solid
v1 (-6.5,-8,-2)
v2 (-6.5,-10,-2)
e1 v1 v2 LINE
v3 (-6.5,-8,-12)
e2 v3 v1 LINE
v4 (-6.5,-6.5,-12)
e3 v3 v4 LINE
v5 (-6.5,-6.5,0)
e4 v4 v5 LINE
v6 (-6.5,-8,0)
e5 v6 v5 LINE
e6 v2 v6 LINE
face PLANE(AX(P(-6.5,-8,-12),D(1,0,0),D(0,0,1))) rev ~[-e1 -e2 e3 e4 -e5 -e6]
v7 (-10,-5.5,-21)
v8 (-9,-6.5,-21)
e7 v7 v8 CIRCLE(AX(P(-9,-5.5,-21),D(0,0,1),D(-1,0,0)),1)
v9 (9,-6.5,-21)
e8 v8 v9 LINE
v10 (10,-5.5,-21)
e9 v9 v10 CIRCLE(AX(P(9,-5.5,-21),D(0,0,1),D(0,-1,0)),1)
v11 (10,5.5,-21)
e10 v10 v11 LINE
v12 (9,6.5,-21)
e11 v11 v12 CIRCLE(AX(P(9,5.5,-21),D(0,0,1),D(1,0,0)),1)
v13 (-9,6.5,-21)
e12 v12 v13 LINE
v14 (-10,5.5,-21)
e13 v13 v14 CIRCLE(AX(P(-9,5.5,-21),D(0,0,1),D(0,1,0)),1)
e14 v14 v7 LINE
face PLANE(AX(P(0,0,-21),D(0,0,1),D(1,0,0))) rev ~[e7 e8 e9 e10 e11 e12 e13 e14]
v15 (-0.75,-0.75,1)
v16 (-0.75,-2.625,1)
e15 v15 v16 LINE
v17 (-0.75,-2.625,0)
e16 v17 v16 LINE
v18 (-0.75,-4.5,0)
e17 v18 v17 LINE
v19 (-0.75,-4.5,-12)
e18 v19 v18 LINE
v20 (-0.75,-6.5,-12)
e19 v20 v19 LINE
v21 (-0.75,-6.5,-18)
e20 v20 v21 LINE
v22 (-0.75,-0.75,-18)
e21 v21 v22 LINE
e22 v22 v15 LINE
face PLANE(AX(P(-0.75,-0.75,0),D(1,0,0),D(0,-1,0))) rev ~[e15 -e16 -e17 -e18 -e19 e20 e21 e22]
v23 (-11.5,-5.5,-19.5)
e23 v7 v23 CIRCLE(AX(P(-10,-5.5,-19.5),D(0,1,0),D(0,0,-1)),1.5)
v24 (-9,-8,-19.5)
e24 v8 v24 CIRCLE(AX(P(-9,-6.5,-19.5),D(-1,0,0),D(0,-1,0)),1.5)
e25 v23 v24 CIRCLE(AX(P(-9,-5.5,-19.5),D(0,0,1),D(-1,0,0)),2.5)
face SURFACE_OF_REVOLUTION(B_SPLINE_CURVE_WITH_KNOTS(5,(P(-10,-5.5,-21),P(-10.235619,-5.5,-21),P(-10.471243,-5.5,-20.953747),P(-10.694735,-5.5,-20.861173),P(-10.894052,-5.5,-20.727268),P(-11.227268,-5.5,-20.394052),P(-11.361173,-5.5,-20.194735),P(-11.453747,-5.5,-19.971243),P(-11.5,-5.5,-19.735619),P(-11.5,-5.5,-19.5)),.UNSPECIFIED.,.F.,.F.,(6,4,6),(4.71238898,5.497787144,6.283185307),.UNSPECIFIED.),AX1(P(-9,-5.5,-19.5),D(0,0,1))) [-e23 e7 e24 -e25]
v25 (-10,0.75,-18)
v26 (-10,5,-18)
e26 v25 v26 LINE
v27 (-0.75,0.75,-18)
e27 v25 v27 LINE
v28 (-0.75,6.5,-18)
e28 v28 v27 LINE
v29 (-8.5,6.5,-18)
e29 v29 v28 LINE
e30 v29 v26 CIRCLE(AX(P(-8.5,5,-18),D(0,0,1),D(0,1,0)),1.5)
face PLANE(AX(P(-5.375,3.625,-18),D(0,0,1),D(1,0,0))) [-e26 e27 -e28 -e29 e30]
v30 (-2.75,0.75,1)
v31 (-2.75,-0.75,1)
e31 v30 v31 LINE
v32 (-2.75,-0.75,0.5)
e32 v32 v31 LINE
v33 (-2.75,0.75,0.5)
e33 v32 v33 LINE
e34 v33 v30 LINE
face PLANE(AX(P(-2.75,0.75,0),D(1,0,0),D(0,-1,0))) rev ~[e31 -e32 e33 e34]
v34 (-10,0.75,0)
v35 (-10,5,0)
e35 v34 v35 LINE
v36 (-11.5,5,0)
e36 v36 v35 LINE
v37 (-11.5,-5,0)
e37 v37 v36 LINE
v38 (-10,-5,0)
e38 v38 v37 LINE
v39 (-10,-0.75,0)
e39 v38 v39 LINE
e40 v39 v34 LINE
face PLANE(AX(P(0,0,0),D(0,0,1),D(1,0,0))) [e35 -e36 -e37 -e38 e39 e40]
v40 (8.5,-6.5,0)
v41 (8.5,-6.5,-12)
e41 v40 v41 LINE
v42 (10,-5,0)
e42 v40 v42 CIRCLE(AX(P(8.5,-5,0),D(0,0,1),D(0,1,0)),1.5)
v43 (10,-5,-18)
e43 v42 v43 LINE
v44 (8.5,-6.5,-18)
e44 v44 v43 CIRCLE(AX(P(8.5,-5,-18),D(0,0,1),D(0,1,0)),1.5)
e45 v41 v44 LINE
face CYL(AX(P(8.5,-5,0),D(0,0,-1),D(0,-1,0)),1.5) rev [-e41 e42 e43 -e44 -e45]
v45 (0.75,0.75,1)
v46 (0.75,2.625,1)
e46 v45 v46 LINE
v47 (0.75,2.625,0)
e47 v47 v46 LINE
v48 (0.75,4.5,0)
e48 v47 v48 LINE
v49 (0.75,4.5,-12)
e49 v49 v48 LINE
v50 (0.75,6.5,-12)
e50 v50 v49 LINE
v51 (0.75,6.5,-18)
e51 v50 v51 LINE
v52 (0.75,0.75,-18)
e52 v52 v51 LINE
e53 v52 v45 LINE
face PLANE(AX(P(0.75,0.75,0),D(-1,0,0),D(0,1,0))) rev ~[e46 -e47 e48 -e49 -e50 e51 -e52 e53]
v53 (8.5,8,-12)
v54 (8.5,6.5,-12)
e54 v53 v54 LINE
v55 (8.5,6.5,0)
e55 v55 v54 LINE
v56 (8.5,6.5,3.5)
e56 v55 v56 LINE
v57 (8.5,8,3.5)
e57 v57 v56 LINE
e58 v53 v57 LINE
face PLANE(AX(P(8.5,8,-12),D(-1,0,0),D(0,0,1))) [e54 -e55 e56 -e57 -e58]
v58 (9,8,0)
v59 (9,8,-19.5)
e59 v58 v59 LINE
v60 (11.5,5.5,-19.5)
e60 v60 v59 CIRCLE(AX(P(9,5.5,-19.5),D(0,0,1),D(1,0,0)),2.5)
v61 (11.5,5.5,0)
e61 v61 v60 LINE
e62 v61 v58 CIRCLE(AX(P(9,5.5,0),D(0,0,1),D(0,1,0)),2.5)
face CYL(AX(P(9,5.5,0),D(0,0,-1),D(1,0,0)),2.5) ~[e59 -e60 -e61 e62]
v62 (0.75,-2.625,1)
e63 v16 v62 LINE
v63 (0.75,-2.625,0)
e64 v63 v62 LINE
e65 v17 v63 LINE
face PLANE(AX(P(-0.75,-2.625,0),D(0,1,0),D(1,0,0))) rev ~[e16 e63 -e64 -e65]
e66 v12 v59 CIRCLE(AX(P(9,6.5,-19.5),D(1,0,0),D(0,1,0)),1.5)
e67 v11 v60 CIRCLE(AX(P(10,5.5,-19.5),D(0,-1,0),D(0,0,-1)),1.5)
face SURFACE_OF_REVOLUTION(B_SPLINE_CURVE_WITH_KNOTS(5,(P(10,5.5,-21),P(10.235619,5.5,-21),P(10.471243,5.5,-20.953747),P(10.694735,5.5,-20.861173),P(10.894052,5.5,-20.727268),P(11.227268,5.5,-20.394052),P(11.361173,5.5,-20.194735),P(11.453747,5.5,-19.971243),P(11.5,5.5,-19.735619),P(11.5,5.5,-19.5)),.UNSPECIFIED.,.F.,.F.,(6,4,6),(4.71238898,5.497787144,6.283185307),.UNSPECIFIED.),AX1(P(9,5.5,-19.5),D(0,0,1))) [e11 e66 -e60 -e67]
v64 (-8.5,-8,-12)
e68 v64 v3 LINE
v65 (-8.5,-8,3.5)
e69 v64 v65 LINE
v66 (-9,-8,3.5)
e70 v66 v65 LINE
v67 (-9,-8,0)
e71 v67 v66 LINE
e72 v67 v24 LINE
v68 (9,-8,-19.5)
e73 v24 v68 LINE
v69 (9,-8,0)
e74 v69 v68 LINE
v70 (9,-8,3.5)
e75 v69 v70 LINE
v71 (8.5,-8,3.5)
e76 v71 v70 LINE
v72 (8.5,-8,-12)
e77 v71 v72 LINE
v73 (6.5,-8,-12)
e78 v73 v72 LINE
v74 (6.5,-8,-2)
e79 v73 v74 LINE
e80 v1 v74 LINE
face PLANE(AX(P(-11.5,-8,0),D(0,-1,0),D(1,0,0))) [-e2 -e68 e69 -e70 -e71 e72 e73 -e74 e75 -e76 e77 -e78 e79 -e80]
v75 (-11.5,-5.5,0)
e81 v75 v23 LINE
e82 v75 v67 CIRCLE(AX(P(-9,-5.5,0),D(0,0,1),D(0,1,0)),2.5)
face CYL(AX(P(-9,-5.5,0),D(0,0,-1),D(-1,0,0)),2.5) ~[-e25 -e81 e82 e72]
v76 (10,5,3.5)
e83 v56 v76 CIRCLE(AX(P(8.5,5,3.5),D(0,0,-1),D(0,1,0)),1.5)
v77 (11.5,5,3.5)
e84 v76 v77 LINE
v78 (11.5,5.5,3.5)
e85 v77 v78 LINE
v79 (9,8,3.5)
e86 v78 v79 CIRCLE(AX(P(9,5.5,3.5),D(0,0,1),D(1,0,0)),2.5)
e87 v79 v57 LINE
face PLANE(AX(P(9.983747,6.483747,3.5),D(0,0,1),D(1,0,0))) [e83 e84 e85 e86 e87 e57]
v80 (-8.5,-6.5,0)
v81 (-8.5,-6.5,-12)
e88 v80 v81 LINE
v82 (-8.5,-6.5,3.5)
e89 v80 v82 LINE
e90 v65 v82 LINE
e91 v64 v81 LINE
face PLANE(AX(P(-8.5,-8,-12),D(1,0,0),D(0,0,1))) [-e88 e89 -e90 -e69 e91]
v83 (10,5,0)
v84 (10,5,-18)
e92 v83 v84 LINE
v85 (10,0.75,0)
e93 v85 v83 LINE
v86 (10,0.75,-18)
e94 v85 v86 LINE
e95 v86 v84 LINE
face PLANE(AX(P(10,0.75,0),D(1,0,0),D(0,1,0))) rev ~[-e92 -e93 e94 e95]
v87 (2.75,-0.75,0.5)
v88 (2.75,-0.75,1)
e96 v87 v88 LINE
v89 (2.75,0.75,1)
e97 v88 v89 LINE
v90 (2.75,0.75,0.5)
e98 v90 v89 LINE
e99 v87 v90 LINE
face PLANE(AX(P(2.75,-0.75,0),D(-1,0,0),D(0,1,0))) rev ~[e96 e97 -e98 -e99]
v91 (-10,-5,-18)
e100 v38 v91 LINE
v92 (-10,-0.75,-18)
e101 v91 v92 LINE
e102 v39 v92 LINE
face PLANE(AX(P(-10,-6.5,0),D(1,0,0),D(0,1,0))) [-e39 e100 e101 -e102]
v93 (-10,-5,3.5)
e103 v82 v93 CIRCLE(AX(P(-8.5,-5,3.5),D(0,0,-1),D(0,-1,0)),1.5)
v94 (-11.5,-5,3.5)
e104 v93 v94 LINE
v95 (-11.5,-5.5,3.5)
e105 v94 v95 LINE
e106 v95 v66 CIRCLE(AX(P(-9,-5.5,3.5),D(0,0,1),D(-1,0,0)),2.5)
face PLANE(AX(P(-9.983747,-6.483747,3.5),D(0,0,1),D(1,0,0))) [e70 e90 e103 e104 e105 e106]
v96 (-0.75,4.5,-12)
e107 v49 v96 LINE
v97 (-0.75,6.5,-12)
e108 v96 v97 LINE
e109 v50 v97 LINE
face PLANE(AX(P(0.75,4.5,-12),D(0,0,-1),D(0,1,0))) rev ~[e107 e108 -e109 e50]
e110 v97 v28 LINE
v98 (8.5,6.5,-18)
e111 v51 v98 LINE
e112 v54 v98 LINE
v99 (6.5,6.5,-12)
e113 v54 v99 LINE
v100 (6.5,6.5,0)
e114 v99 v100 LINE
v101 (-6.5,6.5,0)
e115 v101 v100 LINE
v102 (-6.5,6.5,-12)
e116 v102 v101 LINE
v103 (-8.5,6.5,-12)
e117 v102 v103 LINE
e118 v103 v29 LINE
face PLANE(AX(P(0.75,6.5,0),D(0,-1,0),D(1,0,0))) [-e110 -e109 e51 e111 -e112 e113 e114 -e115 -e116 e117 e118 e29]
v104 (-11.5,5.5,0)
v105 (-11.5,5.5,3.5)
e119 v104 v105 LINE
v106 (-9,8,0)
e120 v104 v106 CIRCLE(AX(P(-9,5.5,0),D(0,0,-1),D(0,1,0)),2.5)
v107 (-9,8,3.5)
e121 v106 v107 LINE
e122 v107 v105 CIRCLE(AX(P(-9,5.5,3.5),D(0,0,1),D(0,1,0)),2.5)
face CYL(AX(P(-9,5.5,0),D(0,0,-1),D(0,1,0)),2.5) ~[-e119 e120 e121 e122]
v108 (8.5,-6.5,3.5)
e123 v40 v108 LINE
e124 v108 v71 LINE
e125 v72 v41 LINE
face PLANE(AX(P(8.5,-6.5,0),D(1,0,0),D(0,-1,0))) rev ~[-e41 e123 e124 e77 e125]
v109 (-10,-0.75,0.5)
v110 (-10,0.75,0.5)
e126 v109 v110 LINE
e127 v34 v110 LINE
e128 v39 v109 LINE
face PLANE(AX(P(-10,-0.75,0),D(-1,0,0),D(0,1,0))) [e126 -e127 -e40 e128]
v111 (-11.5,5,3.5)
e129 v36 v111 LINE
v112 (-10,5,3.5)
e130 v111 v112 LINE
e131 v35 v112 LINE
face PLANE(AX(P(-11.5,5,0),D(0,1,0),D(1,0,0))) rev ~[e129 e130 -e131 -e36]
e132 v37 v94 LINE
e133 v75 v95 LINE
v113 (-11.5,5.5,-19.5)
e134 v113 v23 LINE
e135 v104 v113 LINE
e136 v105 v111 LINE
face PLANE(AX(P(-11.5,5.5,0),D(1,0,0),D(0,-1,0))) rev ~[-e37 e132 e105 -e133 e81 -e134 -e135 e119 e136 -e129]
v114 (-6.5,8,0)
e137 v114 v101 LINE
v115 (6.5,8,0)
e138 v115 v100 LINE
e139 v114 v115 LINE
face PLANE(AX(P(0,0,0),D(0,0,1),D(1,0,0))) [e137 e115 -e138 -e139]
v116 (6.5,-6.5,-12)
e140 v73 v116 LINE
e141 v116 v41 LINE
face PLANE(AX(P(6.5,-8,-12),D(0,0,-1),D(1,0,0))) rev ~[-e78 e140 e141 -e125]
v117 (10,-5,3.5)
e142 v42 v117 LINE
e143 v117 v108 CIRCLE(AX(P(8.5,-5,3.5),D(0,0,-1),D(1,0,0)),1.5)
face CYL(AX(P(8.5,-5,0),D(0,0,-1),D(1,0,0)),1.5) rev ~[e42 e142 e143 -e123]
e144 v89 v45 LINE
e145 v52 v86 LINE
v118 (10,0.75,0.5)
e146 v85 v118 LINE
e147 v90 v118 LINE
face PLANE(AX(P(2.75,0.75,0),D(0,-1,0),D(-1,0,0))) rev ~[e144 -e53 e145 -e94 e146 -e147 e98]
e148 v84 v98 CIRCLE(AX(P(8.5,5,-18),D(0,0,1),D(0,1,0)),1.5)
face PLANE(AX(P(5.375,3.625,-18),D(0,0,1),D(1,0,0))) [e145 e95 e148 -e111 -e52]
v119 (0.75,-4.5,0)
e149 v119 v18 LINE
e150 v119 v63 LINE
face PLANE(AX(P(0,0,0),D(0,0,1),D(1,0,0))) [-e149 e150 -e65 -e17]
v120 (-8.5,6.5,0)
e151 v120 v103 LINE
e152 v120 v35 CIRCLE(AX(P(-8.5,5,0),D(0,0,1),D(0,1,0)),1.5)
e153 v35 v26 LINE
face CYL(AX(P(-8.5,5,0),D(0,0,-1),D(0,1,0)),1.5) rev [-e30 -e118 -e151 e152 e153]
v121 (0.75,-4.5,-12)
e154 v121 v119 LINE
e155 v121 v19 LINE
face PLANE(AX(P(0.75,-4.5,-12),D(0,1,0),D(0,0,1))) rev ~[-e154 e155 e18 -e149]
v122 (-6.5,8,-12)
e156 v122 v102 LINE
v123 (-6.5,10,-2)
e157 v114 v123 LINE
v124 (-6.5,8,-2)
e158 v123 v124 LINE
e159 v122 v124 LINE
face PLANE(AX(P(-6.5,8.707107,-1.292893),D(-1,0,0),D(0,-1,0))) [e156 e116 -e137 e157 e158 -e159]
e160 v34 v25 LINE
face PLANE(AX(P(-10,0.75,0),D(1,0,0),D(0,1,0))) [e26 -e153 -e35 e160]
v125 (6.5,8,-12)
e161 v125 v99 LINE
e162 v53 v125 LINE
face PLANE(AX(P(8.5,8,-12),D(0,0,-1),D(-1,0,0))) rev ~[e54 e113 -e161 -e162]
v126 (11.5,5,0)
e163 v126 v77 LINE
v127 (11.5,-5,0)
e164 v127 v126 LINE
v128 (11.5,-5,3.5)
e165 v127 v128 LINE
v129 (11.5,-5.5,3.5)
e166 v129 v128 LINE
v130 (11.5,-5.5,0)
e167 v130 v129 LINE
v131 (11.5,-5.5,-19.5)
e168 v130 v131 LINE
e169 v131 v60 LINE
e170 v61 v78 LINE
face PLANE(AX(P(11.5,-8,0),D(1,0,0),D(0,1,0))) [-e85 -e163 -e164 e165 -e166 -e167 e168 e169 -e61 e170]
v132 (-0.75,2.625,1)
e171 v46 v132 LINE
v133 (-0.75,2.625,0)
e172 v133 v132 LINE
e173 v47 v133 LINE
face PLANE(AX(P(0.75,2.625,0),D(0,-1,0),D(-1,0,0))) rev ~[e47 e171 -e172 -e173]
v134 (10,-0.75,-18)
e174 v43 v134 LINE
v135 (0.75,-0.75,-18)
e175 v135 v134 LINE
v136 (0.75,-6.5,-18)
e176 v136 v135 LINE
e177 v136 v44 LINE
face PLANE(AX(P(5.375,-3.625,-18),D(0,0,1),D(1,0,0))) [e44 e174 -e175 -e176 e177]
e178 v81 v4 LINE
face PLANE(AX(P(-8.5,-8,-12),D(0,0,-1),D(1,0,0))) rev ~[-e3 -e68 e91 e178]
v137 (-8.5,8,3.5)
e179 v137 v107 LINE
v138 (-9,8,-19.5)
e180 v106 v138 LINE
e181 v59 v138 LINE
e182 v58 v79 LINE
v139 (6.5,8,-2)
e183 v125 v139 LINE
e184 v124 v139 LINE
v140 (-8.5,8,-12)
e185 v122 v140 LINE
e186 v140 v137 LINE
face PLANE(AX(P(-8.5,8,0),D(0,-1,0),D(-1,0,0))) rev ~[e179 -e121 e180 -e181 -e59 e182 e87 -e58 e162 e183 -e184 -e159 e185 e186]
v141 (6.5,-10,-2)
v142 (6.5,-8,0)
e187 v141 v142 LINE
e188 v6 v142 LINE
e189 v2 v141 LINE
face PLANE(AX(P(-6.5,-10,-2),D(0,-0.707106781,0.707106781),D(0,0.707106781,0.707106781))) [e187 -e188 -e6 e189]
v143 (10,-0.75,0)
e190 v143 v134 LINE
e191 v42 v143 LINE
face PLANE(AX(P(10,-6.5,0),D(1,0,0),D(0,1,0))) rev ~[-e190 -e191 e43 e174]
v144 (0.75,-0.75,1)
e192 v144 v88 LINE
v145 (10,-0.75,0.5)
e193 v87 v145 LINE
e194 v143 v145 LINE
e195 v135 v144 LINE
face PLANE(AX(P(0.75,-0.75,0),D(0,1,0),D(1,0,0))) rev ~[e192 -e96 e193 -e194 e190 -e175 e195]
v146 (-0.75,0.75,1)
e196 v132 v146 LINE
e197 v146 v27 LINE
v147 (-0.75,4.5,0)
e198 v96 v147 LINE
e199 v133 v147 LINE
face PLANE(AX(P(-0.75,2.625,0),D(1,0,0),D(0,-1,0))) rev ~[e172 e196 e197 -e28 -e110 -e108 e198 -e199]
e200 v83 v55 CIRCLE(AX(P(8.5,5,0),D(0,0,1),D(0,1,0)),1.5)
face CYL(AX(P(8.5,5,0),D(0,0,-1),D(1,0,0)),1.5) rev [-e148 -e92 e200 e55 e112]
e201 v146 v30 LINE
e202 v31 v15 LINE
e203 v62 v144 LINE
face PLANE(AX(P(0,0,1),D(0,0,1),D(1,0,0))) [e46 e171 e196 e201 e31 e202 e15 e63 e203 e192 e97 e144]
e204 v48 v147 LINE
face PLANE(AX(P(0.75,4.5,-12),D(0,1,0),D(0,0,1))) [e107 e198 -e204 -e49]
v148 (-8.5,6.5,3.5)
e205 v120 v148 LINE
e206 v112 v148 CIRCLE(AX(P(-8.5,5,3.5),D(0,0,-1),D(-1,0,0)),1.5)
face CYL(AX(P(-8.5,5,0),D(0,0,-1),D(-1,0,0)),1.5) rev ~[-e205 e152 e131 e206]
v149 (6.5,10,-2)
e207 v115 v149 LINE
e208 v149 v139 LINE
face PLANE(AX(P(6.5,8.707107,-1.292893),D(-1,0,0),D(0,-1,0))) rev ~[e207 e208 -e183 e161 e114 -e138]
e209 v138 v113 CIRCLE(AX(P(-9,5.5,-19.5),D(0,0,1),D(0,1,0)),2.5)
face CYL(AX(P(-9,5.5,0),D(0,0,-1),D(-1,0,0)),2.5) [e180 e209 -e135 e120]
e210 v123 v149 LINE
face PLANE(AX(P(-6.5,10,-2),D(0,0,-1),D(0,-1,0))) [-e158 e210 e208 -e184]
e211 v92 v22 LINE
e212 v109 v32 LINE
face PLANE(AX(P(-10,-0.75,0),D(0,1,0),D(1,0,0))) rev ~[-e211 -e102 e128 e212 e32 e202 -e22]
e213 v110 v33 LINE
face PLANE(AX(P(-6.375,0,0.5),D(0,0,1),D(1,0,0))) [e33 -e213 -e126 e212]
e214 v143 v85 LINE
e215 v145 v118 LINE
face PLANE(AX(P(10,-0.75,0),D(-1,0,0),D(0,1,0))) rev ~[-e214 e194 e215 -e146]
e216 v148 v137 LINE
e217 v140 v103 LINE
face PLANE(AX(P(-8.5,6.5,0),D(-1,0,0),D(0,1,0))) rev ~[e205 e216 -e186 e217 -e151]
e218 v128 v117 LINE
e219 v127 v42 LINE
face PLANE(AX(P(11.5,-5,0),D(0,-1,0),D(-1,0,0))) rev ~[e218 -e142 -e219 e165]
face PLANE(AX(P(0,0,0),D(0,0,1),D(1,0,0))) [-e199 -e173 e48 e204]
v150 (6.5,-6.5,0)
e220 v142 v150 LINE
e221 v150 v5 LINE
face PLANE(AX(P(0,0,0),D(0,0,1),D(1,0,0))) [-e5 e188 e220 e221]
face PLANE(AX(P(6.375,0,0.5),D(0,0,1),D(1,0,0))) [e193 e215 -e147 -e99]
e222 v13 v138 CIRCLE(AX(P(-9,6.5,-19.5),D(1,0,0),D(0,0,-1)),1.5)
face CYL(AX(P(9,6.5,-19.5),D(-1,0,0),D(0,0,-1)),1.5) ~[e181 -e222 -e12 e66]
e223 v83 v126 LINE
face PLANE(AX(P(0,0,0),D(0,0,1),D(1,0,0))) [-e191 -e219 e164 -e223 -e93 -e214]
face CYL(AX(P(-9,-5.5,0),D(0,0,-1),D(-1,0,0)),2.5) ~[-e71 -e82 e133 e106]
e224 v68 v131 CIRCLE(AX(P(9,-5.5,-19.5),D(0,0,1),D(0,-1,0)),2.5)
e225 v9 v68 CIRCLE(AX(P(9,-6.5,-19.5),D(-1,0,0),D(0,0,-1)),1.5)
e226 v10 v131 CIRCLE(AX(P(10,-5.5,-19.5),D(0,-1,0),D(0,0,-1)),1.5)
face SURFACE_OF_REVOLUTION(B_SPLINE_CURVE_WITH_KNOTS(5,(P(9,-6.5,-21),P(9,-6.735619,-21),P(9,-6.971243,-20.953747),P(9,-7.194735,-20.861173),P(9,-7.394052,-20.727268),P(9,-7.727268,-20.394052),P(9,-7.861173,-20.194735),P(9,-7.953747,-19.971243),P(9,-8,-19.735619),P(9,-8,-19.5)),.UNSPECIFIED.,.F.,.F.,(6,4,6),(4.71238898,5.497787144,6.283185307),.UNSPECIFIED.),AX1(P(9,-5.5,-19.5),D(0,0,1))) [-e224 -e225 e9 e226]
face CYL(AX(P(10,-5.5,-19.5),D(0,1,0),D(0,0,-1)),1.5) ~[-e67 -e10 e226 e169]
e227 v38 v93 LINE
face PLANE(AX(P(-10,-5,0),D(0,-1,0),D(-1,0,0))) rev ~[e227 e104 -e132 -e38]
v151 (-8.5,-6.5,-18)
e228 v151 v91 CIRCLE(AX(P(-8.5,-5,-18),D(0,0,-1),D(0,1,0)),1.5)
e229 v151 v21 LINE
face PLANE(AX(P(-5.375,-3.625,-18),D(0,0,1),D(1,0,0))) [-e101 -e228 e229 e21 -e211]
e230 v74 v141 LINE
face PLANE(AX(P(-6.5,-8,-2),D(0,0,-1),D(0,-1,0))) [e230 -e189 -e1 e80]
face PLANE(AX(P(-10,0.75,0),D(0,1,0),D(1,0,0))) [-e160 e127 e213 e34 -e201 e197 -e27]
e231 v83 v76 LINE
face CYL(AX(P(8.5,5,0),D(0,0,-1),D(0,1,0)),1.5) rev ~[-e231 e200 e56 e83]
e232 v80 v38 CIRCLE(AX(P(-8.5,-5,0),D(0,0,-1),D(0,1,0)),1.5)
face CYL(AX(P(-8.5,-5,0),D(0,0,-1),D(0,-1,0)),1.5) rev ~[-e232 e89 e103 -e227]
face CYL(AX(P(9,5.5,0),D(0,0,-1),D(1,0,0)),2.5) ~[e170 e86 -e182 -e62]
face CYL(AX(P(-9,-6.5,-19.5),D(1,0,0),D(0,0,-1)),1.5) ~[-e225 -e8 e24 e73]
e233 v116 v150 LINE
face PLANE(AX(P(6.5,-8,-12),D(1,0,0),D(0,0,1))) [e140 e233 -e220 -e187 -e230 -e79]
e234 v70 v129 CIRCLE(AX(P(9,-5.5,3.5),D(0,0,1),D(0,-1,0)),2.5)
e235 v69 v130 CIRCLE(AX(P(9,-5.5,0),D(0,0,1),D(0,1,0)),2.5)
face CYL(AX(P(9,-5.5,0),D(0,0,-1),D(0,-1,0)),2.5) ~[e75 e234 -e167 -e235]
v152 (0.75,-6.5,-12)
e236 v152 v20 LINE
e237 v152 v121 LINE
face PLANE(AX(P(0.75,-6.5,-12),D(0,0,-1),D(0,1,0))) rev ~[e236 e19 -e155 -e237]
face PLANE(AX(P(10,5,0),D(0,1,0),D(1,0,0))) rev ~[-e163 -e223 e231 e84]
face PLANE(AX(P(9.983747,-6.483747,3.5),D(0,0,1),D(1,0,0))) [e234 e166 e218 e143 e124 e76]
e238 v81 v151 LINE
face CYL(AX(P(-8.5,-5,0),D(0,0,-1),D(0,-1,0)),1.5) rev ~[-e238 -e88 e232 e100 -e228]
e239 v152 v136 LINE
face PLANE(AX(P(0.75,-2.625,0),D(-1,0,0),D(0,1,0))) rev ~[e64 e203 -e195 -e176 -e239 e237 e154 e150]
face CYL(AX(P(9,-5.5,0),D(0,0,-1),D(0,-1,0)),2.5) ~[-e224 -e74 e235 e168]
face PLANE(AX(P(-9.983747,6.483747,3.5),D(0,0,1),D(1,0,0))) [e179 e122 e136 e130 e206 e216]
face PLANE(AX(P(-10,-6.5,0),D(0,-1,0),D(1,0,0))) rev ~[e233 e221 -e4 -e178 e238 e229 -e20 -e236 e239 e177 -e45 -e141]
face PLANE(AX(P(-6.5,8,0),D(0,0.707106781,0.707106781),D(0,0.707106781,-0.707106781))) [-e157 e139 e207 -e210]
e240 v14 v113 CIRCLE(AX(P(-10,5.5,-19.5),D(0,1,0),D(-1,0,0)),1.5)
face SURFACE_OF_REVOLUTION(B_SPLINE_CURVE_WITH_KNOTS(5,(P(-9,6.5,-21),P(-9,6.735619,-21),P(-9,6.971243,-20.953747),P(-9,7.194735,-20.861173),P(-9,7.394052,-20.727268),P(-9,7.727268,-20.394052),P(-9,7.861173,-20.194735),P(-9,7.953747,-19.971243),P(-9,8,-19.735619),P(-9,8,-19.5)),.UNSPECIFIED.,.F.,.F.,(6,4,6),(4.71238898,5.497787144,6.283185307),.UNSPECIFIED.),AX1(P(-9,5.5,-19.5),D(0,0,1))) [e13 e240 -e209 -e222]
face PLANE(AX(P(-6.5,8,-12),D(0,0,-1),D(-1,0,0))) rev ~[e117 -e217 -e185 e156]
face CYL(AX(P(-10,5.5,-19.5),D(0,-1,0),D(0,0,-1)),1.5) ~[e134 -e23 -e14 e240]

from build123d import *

# Parameters (mm, degrees)
F0_W      = 23
F0_H      = 16
F1_DEPTH  = 21
F2_R      = 2.5
F3_W      = 9.25
F3_H      = 5.75
F4_DEPTH  = 18
F5_R      = 1.5
F6_W      = 2
F6_H      = 12
F7_DEPTH  = 1.5
F8_W      = 2
F8_H      = 12
F9_DEPTH  = 1.5
F10_W     = 2
F10_H     = 12
F11_DEPTH = 1.5
F14_DEPTH = 3.5
F16_DEPTH = 1
F18_W     = 7.25
F18_H     = 1.5
F17_W     = 7.25
F17_H     = 1.5
F19_DEPTH = 0.5
F20_R     = 1.5
F21_DEPTH = 13


with BuildPart() as f1:
    # F0 (on Top) → F1 (new body)
    with BuildSketch(Plane.XY):
        Rectangle(F0_W, F0_H)
    extrude(amount=-F1_DEPTH)

    # F2
    f2_edges = [f1.edges().sort_by_distance(p)[0] for p in [
        (11.5, -8, -10.5),
        (11.5, 8, -10.5),
        (-11.5, -8, -10.5),
        (-11.5, 8, -10.5),
    ]]
    fillet(f2_edges, radius=F2_R)

    # F3 (on face) → F4 (cut)
    with BuildSketch(Plane.XY):
        with Locations((-5.375, 3.625)):
            Rectangle(F3_W, F3_H)
        with Locations((5.375, 3.625)):
            Rectangle(F3_W, F3_H)
        with Locations((5.375, -3.625)):
            Rectangle(F3_W, F3_H)
        with Locations((-5.375, -3.625)):
            Rectangle(F3_W, F3_H)
    extrude(amount=-F4_DEPTH, mode=Mode.SUBTRACT)

    # F5
    f5_edges = [f1.edges().sort_by_distance(p)[0] for p in [
        (-10, 6.5, -9),
        (-10, -6.5, -9),
        (10, -6.5, -9),
        (10, 6.5, -9),
    ]]
    fillet(f5_edges, radius=F5_R)

    # F6 (on face) → F7 (cut, through all)
    with BuildSketch(Plane.YZ.offset(0.75)):
        with Locations((-5.5, -6)):
            Rectangle(F6_W, F6_H)
        with Locations((5.5, -6)):
            Rectangle(F6_W, F6_H)
    extrude(amount=-F7_DEPTH, mode=Mode.SUBTRACT)

    # F8 (on face) + F7_face (on face) → F9 (cut, through all)
    with BuildSketch(Plane(origin=(0, 8, 0), x_dir=(-1, 0, 0), z_dir=(0, 1, 0))):
        with Locations((7.5, -6)):
            Rectangle(F8_W, F8_H)
        with Locations((-7.5, -6)):
            Rectangle(F8_W, F8_H)
    with BuildSketch(Plane(origin=(0, 6.5, -8.8181818182), x_dir=(1, 0, 0), z_dir=(0, -1, 0))):
        Polygon((8.5, 8.8181818182), (-8.5, 8.8181818182), (-8.5, -9.1818181818), (-0.75, -9.1818181818), (-0.75, -3.1818181818), (0.75, -3.1818181818), (0.75, -9.1818181818), (8.5, -9.1818181818), align=None)
    extrude(amount=-F9_DEPTH, dir=(0, 1, 0), mode=Mode.SUBTRACT)

    # F10 (on face) → F11 (cut, through all)
    with BuildSketch(Plane.XZ.offset(8)):
        with Locations((-7.5, -6)):
            Rectangle(F10_W, F10_H)
        with Locations((7.5, -6)):
            Rectangle(F10_W, F10_H)
    extrude(amount=-F11_DEPTH, mode=Mode.SUBTRACT)

    # F13 (on face) → F14 (join)
    with BuildSketch(Plane.XY):
        with BuildLine():
            Line((-11.5, 5), (-10, 5))
            ThreePointArc((-10, 5), (-9.5606601718, 6.0606601718), (-8.5, 6.5))
            Line((-8.5, 6.5), (-8.5, 8))
            Line((-8.5, 8), (-9, 8))
            ThreePointArc((-9, 8), (-10.767766953, 7.267766953), (-11.5, 5.5))
            Line((-11.5, 5.5), (-11.5, 5))
        make_face()
        with BuildLine():
            Line((-10, -5), (-11.5, -5))
            Line((-11.5, -5), (-11.5, -5.5))
            ThreePointArc((-11.5, -5.5), (-10.767766953, -7.267766953), (-9, -8))
            Line((-9, -8), (-8.5, -8))
            Line((-8.5, -8), (-8.5, -6.5))
            ThreePointArc((-8.5, -6.5), (-9.5606601718, -6.0606601718), (-10, -5))
        make_face()
        with BuildLine():
            Line((11.5, -5), (10, -5))
            ThreePointArc((10, -5), (9.5606601718, -6.0606601718), (8.5, -6.5))
            Line((8.5, -6.5), (8.5, -8))
            Line((8.5, -8), (9, -8))
            ThreePointArc((9, -8), (10.767766953, -7.267766953), (11.5, -5.5))
            Line((11.5, -5.5), (11.5, -5))
        make_face()
        with BuildLine():
            ThreePointArc((8.5, 6.5), (9.5606601718, 6.0606601718), (10, 5))
            Line((10, 5), (11.5, 5))
            Line((11.5, 5), (11.5, 5.5))
            ThreePointArc((11.5, 5.5), (10.767766953, 7.267766953), (9, 8))
            Line((9, 8), (8.5, 8))
            Line((8.5, 8), (8.5, 6.5))
        make_face()
    extrude(amount=F14_DEPTH)

    # F15 (on face) → F16 (join)
    with BuildSketch(Plane.XY):
        Polygon((-0.75, 0.75), (-2.75, 0.75), (-2.75, -0.75), (-0.75, -0.75), (-0.75, -2.625), (0.75, -2.625), (0.75, -0.75), (2.75, -0.75), (2.75, 0.75), (0.75, 0.75), (0.75, 2.625), (-0.75, 2.625), align=None)
    extrude(amount=F16_DEPTH)

    # F18 (on face) + F17 (on face) → F19 (join)
    with BuildSketch(Plane.XY):
        with Locations((-6.375, 0)):
            Rectangle(F18_W, F18_H)
    with BuildSketch(Plane.XY):
        with Locations((6.375, 0)):
            Rectangle(F17_W, F17_H)
    extrude(amount=F19_DEPTH)

    # F20
    f20_edges = [f1.edges().sort_by_distance(p)[0] for p in [
        (11.5, 0, -21),
        (10.767767, 7.267767, -21),
        (0, 8, -21),
        (-10.767767, 7.267767, -21),
        (-11.5, 0, -21),
        (-10.767767, -7.267767, -21),
        (0, -8, -21),
        (10.767767, -7.267767, -21),
    ]]
    fillet(f20_edges, radius=F20_R)

    # F12 (on face) → F21 (join, through all)
    with BuildSketch(Plane(origin=(-6.5, 0, 0), x_dir=(0, -1, 0), z_dir=(-1, 0, 0))):
        Polygon((-8, -2), (-8, 0), (-10, -2), align=None)
        Polygon((8, -2), (10, -2), (8, 0), align=None)
    extrude(amount=-F21_DEPTH)


solid = f1.part
